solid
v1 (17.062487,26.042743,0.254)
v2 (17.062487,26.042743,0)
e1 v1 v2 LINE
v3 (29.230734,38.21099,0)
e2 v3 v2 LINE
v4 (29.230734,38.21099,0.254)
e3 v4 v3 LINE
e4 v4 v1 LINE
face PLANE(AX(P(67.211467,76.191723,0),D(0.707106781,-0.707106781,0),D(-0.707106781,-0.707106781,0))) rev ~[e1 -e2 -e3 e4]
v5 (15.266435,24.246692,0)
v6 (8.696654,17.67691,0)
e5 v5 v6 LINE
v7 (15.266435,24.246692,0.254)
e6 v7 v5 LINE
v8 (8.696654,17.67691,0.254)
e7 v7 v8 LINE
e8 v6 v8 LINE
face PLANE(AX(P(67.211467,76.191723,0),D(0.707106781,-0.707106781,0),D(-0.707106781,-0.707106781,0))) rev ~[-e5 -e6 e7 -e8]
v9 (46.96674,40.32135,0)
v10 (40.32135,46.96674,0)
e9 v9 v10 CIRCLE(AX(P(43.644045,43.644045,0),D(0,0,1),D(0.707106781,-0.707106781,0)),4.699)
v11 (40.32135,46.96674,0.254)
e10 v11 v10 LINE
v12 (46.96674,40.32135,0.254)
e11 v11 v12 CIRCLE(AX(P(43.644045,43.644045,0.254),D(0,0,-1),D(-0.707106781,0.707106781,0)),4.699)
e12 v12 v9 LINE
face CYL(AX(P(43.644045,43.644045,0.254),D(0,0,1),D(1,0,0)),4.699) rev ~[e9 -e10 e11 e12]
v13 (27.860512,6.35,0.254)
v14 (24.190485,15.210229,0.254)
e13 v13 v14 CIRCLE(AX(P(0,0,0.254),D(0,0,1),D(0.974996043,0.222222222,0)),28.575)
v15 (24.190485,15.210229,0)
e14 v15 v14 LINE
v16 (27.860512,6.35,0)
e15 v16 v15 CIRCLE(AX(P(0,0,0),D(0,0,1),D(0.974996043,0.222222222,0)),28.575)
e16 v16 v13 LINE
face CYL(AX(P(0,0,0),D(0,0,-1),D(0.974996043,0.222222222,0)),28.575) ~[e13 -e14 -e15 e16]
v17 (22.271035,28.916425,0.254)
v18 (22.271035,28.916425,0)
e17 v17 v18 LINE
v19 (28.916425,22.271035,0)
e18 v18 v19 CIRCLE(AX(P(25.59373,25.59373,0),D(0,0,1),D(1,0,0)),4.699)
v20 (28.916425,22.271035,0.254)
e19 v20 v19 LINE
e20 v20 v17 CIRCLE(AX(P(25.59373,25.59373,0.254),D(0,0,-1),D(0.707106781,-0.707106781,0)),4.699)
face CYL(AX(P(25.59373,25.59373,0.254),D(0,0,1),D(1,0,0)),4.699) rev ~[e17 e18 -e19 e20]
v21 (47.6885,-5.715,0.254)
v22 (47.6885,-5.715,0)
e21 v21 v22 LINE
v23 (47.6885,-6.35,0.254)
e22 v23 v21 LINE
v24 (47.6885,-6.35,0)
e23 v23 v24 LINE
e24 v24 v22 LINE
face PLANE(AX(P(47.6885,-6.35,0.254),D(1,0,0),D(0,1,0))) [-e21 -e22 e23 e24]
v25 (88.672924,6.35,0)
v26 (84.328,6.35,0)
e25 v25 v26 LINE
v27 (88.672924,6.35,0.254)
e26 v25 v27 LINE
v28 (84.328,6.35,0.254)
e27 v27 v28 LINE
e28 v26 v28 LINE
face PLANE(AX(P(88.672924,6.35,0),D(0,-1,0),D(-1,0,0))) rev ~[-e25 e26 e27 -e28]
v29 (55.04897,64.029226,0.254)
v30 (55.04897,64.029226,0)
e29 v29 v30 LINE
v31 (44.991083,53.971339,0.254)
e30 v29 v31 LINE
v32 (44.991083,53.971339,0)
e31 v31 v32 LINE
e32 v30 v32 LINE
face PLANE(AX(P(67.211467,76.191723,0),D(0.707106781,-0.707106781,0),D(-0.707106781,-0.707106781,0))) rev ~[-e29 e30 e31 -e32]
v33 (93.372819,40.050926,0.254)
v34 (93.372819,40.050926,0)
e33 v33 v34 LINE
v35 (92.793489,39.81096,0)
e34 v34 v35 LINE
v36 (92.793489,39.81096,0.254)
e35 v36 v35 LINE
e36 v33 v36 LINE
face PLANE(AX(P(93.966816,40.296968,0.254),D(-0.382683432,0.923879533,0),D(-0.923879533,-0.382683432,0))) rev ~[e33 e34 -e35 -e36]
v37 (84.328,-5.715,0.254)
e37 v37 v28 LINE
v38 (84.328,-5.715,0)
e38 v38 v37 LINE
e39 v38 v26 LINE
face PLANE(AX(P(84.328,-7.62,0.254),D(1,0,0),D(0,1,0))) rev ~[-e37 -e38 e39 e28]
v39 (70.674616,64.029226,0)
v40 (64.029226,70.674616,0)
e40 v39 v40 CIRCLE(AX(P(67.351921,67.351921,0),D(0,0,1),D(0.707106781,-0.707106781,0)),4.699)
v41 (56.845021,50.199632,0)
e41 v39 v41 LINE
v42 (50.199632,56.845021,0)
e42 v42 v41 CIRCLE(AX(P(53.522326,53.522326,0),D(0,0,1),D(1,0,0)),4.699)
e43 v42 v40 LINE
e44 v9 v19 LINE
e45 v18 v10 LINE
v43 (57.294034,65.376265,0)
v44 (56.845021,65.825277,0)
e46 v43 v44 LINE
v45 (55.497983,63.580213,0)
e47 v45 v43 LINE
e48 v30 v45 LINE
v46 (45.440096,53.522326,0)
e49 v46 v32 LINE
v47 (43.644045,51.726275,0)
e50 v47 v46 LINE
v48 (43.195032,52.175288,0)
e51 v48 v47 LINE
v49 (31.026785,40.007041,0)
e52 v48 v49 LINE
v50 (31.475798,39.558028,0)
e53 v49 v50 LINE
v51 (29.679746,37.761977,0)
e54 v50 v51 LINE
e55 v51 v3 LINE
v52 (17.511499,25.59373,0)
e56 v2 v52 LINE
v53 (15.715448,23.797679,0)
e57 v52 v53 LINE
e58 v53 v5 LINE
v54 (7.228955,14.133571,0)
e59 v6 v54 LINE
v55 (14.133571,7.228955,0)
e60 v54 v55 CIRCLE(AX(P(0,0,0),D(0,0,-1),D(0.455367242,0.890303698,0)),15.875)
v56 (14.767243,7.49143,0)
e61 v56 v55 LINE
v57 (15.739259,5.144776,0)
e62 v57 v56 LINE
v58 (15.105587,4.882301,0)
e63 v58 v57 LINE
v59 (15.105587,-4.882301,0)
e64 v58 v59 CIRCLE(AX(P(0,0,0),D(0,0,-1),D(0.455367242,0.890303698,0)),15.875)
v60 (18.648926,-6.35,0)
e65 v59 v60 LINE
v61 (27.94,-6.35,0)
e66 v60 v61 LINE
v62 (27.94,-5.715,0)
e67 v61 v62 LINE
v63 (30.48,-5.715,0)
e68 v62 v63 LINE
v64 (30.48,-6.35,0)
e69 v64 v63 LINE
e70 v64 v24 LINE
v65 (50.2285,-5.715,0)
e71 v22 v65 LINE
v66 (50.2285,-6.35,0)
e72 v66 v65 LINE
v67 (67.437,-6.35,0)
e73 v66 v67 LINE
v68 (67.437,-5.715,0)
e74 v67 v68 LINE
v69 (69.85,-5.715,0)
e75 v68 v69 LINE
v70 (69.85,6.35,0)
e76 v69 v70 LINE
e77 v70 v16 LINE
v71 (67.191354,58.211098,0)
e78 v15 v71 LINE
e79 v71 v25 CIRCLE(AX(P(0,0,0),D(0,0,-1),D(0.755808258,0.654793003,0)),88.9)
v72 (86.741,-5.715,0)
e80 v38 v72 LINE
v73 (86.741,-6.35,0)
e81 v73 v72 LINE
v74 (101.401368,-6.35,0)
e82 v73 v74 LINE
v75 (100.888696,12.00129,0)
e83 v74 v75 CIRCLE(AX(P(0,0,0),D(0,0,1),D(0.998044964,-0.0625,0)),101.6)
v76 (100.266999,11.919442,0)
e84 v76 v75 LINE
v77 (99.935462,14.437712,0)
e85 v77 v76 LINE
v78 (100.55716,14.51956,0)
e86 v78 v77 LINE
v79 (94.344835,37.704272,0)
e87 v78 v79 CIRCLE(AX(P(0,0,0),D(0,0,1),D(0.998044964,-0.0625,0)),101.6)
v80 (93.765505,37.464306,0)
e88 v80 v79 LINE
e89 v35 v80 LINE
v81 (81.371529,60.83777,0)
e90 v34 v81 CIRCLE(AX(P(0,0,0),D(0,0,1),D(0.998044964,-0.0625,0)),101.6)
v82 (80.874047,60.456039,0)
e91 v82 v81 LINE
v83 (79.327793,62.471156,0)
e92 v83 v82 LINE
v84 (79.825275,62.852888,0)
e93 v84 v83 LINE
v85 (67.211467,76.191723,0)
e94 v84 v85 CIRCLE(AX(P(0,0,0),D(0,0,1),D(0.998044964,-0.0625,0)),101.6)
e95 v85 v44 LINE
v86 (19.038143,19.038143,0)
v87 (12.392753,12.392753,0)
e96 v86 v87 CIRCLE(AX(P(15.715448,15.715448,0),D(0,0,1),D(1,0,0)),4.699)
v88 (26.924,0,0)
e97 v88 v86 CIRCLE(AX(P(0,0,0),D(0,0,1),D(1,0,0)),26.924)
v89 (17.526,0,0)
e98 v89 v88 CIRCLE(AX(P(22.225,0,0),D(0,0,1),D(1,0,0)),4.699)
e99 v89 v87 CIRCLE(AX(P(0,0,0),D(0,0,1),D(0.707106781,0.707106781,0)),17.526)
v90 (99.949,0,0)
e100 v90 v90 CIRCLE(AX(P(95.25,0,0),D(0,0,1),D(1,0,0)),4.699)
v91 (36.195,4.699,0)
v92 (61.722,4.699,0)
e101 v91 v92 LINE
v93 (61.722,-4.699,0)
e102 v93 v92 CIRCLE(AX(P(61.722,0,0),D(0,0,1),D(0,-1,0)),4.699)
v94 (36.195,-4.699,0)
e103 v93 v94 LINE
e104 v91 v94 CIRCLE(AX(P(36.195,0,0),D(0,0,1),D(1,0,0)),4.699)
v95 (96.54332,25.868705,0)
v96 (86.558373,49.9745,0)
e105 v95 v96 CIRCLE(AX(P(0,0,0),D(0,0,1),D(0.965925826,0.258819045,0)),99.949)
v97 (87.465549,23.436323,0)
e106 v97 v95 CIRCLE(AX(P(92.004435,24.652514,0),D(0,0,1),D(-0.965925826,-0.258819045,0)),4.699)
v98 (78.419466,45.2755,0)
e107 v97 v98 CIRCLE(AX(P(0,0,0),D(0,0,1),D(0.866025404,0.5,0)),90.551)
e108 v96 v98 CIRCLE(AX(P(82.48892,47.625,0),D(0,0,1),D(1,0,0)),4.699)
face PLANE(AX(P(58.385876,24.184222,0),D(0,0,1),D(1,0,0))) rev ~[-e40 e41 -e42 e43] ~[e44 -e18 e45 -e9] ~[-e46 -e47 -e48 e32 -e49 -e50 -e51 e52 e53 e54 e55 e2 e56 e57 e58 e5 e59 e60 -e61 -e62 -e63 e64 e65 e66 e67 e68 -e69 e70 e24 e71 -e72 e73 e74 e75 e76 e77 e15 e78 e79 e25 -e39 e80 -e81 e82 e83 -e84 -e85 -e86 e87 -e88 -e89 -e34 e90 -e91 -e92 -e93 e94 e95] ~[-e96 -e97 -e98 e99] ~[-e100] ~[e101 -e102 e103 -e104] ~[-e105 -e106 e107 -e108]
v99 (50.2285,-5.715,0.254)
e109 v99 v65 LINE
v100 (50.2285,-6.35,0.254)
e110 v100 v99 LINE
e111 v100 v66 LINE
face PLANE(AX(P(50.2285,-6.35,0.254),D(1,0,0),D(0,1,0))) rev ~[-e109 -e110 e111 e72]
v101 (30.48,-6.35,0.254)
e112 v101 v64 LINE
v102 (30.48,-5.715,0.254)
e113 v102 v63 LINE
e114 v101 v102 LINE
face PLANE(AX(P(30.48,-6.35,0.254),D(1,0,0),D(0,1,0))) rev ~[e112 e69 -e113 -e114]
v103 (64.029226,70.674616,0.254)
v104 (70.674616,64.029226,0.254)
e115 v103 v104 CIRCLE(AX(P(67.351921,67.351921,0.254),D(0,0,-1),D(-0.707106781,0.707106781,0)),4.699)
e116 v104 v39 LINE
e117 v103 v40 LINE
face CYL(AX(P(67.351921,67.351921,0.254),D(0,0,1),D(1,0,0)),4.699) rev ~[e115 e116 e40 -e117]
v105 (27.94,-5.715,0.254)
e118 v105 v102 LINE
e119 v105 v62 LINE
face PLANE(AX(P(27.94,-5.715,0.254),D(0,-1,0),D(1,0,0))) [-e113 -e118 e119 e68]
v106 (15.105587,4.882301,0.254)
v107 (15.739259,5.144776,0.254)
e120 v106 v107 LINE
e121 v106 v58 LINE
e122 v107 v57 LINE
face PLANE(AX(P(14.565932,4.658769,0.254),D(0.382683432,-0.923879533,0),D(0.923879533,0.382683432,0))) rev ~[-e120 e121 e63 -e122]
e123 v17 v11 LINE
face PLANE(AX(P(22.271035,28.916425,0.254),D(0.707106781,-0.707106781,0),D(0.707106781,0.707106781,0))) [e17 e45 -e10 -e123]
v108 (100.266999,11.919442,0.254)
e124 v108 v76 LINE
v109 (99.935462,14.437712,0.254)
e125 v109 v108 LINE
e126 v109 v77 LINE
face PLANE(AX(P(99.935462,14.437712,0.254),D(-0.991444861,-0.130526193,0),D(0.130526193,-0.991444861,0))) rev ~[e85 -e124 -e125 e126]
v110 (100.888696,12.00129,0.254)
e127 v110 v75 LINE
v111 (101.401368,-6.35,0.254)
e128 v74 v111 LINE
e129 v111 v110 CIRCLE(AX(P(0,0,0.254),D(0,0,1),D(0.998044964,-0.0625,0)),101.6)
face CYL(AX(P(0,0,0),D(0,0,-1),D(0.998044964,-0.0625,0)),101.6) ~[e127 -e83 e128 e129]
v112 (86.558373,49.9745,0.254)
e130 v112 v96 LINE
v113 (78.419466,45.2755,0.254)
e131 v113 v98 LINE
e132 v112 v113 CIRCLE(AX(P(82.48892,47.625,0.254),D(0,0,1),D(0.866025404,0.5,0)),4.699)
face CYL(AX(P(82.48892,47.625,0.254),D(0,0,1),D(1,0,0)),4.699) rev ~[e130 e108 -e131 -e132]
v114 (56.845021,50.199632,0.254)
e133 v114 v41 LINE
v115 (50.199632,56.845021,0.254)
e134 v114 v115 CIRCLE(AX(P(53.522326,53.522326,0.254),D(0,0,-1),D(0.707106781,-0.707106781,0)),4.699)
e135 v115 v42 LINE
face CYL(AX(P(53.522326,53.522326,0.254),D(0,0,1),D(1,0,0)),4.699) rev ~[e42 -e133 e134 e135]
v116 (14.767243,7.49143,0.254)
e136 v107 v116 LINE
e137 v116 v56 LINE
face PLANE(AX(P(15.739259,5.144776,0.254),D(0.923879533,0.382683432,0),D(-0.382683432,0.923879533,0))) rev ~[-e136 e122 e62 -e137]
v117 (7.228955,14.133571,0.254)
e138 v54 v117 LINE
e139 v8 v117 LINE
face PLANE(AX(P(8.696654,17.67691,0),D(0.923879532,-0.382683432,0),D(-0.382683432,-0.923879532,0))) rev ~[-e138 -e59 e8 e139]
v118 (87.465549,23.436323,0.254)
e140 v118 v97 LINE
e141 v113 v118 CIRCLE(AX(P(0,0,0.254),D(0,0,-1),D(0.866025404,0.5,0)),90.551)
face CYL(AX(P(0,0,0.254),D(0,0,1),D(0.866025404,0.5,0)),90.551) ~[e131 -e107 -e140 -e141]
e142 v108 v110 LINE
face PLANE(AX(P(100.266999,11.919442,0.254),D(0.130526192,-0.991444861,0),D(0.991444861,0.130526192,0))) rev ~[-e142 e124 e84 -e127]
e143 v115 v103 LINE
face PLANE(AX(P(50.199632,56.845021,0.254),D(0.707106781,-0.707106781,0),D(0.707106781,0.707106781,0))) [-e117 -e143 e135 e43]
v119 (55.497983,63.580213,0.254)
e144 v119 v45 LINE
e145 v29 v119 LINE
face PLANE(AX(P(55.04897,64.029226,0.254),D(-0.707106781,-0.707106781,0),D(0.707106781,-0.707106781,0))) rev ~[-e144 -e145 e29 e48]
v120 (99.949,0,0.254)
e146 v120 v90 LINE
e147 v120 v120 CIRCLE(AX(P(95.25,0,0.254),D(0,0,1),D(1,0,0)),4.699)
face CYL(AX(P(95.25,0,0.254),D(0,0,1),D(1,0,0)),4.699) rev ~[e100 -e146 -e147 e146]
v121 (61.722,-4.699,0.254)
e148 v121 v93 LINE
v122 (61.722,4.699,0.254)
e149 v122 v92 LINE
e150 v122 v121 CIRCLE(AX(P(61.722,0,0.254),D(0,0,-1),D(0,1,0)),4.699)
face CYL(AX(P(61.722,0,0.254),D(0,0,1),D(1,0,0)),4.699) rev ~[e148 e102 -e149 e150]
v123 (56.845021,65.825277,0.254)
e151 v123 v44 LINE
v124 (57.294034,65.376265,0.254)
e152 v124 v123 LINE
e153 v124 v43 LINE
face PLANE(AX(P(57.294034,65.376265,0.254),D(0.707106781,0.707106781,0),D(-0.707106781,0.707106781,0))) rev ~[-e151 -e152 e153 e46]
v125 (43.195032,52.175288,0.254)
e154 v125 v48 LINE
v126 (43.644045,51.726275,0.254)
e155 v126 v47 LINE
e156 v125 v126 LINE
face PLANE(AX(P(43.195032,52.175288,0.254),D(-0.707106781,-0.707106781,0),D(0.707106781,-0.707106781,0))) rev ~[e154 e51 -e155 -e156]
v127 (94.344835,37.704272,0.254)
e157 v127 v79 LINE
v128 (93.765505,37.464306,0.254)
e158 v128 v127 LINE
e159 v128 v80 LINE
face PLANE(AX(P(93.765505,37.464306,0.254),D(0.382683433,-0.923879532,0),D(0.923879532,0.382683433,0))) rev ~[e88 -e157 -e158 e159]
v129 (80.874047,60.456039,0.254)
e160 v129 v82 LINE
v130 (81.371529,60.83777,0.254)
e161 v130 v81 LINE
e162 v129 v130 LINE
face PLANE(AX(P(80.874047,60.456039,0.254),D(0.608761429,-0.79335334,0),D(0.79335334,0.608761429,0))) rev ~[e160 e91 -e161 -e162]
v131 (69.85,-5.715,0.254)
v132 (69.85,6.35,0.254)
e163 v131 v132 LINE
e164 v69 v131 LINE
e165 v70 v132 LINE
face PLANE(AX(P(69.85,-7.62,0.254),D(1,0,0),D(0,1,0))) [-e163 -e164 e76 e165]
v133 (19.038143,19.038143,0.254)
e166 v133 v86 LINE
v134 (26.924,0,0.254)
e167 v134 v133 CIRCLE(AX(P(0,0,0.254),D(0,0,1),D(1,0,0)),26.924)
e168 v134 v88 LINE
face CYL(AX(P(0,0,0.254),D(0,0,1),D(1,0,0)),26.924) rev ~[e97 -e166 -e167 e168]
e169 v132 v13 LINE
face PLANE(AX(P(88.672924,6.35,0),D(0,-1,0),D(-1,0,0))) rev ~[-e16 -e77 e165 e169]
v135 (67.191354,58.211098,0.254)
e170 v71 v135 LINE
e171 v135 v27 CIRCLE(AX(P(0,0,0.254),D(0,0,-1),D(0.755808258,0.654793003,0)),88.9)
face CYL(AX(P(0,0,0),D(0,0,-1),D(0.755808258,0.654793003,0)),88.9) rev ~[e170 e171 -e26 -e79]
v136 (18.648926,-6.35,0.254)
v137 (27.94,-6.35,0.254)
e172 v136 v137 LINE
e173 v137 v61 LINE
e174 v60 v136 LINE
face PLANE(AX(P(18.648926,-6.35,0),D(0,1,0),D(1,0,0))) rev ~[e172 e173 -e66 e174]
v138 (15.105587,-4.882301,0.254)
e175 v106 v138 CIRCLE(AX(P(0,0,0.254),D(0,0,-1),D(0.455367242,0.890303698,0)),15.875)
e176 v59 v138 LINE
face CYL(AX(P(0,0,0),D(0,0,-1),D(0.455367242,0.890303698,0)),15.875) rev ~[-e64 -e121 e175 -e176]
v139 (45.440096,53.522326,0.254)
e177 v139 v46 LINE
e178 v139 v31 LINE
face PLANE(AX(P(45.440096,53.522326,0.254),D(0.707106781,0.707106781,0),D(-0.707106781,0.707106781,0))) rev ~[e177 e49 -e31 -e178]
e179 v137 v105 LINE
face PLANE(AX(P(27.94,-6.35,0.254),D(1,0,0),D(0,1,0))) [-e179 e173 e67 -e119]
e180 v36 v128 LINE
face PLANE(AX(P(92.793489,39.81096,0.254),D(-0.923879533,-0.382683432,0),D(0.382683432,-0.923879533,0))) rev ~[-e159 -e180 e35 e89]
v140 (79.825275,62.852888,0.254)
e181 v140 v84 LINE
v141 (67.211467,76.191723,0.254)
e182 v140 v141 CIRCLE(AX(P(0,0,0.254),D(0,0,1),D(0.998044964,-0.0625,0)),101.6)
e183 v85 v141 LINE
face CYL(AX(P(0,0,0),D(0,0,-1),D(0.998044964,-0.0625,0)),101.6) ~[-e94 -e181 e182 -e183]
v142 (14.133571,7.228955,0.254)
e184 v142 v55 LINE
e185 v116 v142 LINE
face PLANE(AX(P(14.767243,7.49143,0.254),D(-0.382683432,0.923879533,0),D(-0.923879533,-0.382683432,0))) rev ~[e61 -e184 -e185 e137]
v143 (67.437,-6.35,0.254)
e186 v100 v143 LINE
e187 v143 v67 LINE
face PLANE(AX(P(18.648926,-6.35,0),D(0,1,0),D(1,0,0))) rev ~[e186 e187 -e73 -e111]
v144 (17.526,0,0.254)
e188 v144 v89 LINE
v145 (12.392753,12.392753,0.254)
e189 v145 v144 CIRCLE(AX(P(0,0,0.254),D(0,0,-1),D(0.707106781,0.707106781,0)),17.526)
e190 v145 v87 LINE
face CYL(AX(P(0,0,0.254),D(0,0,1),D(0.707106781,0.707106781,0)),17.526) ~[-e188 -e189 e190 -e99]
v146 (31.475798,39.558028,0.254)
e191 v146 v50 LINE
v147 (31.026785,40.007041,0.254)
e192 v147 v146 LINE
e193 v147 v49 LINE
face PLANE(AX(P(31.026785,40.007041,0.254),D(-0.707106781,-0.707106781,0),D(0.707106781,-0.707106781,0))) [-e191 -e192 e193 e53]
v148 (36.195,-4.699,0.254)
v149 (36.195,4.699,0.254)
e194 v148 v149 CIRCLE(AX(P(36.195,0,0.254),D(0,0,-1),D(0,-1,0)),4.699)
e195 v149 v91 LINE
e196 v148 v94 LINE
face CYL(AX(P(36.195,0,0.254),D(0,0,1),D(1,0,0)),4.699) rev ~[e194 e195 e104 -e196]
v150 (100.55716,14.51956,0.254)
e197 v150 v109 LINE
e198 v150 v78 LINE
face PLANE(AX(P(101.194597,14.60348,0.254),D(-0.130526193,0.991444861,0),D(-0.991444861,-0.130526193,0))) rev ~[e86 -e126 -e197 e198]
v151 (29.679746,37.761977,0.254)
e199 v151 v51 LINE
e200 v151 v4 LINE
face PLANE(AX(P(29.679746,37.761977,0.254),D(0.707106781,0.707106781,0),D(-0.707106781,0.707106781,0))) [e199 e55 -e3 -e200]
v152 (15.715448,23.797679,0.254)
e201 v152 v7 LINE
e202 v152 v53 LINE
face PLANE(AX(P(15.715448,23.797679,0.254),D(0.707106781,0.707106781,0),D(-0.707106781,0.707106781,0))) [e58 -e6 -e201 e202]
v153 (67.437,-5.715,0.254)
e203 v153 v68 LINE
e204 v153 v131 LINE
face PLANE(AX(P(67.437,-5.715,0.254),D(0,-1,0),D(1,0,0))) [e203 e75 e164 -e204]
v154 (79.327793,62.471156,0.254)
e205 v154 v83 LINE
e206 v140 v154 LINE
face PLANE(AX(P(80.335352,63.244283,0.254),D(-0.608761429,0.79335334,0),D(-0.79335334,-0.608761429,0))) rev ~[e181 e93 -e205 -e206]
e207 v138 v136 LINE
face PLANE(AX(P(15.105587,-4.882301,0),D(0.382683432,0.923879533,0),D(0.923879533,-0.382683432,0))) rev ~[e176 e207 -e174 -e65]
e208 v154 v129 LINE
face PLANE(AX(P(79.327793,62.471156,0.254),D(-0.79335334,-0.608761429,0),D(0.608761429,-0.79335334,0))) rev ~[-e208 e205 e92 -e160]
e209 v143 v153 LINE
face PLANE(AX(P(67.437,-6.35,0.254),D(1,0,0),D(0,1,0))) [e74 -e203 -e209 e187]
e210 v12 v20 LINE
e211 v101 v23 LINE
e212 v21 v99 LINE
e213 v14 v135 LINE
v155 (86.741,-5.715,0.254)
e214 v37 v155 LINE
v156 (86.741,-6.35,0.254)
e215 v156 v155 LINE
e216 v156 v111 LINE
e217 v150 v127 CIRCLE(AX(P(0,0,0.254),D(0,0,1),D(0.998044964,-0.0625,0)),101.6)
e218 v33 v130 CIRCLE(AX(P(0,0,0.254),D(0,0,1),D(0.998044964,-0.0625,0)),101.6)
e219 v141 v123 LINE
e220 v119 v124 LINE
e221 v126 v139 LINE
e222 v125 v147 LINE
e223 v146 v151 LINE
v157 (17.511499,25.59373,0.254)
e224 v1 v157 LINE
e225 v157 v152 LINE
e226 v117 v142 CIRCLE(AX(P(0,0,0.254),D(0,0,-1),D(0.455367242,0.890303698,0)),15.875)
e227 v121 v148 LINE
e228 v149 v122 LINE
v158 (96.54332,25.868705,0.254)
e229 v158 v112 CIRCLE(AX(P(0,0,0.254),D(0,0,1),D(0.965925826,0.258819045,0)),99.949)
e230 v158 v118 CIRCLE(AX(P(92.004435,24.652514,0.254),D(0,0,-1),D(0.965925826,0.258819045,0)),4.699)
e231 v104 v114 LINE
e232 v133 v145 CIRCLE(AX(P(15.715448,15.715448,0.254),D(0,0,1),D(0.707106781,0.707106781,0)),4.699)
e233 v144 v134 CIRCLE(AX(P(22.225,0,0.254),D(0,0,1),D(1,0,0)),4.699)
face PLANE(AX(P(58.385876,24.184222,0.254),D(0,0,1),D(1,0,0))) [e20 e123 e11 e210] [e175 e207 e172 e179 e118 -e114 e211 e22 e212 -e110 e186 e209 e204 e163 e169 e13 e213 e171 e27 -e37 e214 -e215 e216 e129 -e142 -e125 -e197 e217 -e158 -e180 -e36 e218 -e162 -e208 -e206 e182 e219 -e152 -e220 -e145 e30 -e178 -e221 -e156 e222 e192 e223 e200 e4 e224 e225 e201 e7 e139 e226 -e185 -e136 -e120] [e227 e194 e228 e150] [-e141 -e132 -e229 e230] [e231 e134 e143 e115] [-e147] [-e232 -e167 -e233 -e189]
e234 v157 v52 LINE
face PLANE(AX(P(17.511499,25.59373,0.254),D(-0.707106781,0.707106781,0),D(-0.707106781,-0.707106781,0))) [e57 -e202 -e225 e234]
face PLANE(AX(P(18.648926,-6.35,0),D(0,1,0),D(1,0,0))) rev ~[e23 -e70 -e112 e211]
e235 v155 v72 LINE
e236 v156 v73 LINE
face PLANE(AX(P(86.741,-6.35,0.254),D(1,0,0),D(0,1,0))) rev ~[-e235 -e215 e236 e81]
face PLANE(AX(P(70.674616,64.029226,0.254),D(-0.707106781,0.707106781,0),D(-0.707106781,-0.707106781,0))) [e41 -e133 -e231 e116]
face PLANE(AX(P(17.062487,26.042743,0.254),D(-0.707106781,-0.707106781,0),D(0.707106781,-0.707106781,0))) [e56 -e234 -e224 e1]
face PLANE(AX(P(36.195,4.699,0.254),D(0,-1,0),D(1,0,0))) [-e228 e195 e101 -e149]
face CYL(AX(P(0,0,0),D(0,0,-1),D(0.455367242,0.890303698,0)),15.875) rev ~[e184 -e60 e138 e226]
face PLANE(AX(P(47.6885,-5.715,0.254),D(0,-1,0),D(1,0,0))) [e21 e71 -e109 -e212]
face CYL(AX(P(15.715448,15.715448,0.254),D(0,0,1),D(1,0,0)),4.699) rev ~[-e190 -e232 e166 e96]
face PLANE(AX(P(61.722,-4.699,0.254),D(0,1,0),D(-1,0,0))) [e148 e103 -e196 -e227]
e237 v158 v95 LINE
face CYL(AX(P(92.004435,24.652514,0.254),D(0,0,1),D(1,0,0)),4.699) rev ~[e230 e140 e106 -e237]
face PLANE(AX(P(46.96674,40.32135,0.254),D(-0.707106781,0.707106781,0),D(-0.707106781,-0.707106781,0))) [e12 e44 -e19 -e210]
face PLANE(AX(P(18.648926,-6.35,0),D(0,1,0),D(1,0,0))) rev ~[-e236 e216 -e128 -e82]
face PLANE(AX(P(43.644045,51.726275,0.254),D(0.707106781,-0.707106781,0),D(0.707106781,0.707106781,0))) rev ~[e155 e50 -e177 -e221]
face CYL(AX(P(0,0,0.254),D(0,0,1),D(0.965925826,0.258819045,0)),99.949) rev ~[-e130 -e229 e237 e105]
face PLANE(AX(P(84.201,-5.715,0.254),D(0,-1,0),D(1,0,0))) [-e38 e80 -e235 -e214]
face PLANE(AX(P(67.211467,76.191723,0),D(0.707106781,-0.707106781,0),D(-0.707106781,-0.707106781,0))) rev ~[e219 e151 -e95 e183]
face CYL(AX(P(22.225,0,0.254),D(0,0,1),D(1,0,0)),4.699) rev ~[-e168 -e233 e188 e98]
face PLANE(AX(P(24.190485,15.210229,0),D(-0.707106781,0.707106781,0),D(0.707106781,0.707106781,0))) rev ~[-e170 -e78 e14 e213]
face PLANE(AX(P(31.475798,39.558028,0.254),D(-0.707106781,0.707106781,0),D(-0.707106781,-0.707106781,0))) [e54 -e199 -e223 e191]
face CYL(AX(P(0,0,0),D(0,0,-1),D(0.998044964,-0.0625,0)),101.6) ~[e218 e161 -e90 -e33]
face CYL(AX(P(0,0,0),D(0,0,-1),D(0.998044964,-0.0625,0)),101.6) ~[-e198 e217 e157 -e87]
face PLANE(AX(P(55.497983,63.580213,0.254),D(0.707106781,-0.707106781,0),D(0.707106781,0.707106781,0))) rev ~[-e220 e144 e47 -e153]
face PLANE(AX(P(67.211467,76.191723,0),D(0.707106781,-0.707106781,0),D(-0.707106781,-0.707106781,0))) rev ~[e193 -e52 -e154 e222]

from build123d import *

# Parameters (mm, degrees)
BOSS_EXTRUDE1_DEPTH = 0.254
SKETCH2_R           = 4.699
CUT_EXTRUDE1_DEPTH  = 1.254
SKETCH3_W           = 2.54
SKETCH3_H           = 0.635
CUT_EXTRUDE2_DEPTH  = 1.254
CUT_EXTRUDE4_DEPTH  = 1.254
SKETCH5_W           = 14.478
SKETCH5_H           = 15.24
CUT_EXTRUDE5_DEPTH  = 1.254


with BuildPart() as part:
    # Sketch1 → Boss-Extrude1 (new body)
    with BuildSketch(Plane.XY):
        with BuildLine():
            Line((67.21146711, 76.191723231), (8.696654013, 17.676910134))
            Line((8.696654013, 17.676910134), (7.228954972, 14.133571205))
            ThreePointArc((7.228954972, 14.133571205), (14.666587579, 6.075099489), (15.105587123, -4.88230096))
            Line((15.105587123, -4.88230096), (18.648926052, -6.35))
            Line((18.648926052, -6.35), (101.401368334, -6.35))
            ThreePointArc((101.401368334, -6.35), (93.866160503, 38.880636728), (67.21146711, 76.191723231))
        make_face()
        with BuildLine():
            Line((88.672924278, 6.35), (27.86051193, 6.35))
            ThreePointArc((27.86051193, 6.35), (26.399857642, 10.93517908), (24.190484974, 15.210228852))
            Line((24.190484974, 15.210228852), (67.191354125, 58.211098004))
            ThreePointArc((67.191354125, 58.211098004), (82.13289044, 34.020557137), (88.672924278, 6.35))
        make_face(mode=Mode.SUBTRACT)
    extrude(amount=BOSS_EXTRUDE1_DEPTH)

    # Sketch2 → Cut-Extrude1 (cut, through all)
    with BuildSketch(Plane.XY.offset(0.254)):
        with Locations((22.225, 0)):
            Circle(SKETCH2_R)
        with Locations((36.195, 0)):
            Circle(SKETCH2_R)
        with Locations((61.722, 0)):
            Circle(SKETCH2_R)
        with Locations((75.692, 0)):
            Circle(SKETCH2_R)
        with Locations((95.25, 0)):
            Circle(SKETCH2_R)
        with Locations((15.715448212, 15.715448212)):
            Circle(SKETCH2_R)
        with Locations((25.593729945, 25.593729945)):
            Circle(SKETCH2_R)
        with Locations((43.644044748, 43.644044748)):
            Circle(SKETCH2_R)
        with Locations((53.522326482, 53.522326482)):
            Circle(SKETCH2_R)
        with Locations((92.004434954, 24.652514046)):
            Circle(SKETCH2_R)
        with Locations((82.48891971, 47.625)):
            Circle(SKETCH2_R)
        with Locations((67.351920908, 67.351920908)):
            Circle(SKETCH2_R)
    extrude(amount=-CUT_EXTRUDE1_DEPTH, mode=Mode.SUBTRACT)

    # Sketch3 → Cut-Extrude2 (cut, through all)
    with BuildSketch(Plane.XY.offset(0.254)):
        Polygon((15.266435406, 24.246691527), (17.06248663, 26.042742751), (17.511499436, 25.593729945), (15.715448212, 23.797678721), align=None)
        Polygon((44.991083167, 53.971339288), (43.195031942, 52.175288063), (43.644044748, 51.726275257), (45.440095973, 53.522326482), align=None)
        with Locations((29.21, -6.0325)):
            Rectangle(SKETCH3_W, SKETCH3_H)
        with Locations((68.707, -6.0325)):
            Rectangle(SKETCH3_W, SKETCH3_H)
        Polygon((29.230733674, 38.210989795), (31.026784898, 40.007041019), (31.475797704, 39.558028213), (29.67974648, 37.761976989), align=None)
        Polygon((56.845021246, 65.825277367), (55.048970022, 64.029226143), (55.497982828, 63.580213337), (57.294034052, 65.376264561), align=None)
        with Locations((48.9585, -6.0325)):
            Rectangle(SKETCH3_W, SKETCH3_H)
        with Locations((85.471, -6.0325)):
            Rectangle(SKETCH3_W, SKETCH3_H)
        Polygon((99.935462164, 14.437711971), (100.266998693, 11.919442024), (101.526133667, 12.085210288), (101.194597138, 14.603480236), align=None)
        Polygon((93.765504959, 37.464305742), (94.938831965, 37.950313702), (93.966816047, 40.296967714), (92.793489041, 39.810959755), align=None)
        Polygon((79.327792988, 62.471156422), (80.874047017, 60.456038938), (81.88160576, 61.229165953), (80.33535173, 63.244283437), align=None)
        Polygon((13.593916116, 7.005422516), (14.565932035, 4.658768503), (15.739259041, 5.144776462), (14.767243123, 7.491430475), align=None)
    extrude(amount=-CUT_EXTRUDE2_DEPTH, mode=Mode.SUBTRACT)

    # Sketch6 → Cut-Extrude4 (cut, through all)
    with BuildSketch(Plane.XY.offset(0.254)):
        with BuildLine():
            Line((22.27103518, 28.91642471), (40.321349984, 46.966739513))
            ThreePointArc((40.321349984, 46.966739513), (46.966739513, 46.966739513), (46.966739513, 40.321349984))
            Line((46.966739513, 40.321349984), (28.91642471, 22.27103518))
            ThreePointArc((28.91642471, 22.27103518), (22.27103518, 22.27103518), (22.27103518, 28.91642471))
        make_face()
        with BuildLine():
            Line((50.199631717, 56.845021246), (64.029226143, 70.674615673))
            ThreePointArc((64.029226143, 70.674615673), (70.674615673, 70.674615673), (70.674615673, 64.029226143))
            Line((70.674615673, 64.029226143), (56.845021246, 50.199631717))
            ThreePointArc((56.845021246, 50.199631717), (50.199631717, 50.199631717), (50.199631717, 56.845021246))
        make_face()
        with BuildLine():
            Line((61.722, -4.699), (36.195, -4.699))
            ThreePointArc((36.195, -4.699), (31.496, 0), (36.195, 4.699))
            Line((36.195, 4.699), (61.722, 4.699))
            ThreePointArc((61.722, 4.699), (66.421, 0), (61.722, -4.699))
        make_face()
        with BuildLine():
            ThreePointArc((26.924, 0), (24.874532533, 10.303368733), (19.038142977, 19.038142977))
            ThreePointArc((19.038142977, 19.038142977), (12.392753447, 19.038142977), (12.392753447, 12.392753447))
            ThreePointArc((12.392753447, 12.392753447), (16.191912687, 6.706909836), (17.526, 0))
            ThreePointArc((17.526, 0), (22.225, -4.699), (26.924, 0))
        make_face()
        with BuildLine():
            ThreePointArc((96.543320412, 25.868704739), (92.340835395, 38.248826381), (86.558373083, 49.9745))
            ThreePointArc((86.558373083, 49.9745), (80.13941971, 51.694453372), (78.419466338, 45.2755))
            ThreePointArc((78.419466338, 45.2755), (83.658215548, 34.652367484), (87.465549496, 23.436323353))
            ThreePointArc((87.465549496, 23.436323353), (93.220625647, 20.113628588), (96.543320412, 25.868704739))
        make_face()
    extrude(amount=-CUT_EXTRUDE4_DEPTH, mode=Mode.SUBTRACT)

    # Sketch5 → Cut-Extrude5 (cut, through all)
    with BuildSketch(Plane.XY.offset(0.254)):
        with Locations((77.089, 0)):
            Rectangle(SKETCH5_W, SKETCH5_H)
    extrude(amount=-CUT_EXTRUDE5_DEPTH, mode=Mode.SUBTRACT)


solid = part.part
